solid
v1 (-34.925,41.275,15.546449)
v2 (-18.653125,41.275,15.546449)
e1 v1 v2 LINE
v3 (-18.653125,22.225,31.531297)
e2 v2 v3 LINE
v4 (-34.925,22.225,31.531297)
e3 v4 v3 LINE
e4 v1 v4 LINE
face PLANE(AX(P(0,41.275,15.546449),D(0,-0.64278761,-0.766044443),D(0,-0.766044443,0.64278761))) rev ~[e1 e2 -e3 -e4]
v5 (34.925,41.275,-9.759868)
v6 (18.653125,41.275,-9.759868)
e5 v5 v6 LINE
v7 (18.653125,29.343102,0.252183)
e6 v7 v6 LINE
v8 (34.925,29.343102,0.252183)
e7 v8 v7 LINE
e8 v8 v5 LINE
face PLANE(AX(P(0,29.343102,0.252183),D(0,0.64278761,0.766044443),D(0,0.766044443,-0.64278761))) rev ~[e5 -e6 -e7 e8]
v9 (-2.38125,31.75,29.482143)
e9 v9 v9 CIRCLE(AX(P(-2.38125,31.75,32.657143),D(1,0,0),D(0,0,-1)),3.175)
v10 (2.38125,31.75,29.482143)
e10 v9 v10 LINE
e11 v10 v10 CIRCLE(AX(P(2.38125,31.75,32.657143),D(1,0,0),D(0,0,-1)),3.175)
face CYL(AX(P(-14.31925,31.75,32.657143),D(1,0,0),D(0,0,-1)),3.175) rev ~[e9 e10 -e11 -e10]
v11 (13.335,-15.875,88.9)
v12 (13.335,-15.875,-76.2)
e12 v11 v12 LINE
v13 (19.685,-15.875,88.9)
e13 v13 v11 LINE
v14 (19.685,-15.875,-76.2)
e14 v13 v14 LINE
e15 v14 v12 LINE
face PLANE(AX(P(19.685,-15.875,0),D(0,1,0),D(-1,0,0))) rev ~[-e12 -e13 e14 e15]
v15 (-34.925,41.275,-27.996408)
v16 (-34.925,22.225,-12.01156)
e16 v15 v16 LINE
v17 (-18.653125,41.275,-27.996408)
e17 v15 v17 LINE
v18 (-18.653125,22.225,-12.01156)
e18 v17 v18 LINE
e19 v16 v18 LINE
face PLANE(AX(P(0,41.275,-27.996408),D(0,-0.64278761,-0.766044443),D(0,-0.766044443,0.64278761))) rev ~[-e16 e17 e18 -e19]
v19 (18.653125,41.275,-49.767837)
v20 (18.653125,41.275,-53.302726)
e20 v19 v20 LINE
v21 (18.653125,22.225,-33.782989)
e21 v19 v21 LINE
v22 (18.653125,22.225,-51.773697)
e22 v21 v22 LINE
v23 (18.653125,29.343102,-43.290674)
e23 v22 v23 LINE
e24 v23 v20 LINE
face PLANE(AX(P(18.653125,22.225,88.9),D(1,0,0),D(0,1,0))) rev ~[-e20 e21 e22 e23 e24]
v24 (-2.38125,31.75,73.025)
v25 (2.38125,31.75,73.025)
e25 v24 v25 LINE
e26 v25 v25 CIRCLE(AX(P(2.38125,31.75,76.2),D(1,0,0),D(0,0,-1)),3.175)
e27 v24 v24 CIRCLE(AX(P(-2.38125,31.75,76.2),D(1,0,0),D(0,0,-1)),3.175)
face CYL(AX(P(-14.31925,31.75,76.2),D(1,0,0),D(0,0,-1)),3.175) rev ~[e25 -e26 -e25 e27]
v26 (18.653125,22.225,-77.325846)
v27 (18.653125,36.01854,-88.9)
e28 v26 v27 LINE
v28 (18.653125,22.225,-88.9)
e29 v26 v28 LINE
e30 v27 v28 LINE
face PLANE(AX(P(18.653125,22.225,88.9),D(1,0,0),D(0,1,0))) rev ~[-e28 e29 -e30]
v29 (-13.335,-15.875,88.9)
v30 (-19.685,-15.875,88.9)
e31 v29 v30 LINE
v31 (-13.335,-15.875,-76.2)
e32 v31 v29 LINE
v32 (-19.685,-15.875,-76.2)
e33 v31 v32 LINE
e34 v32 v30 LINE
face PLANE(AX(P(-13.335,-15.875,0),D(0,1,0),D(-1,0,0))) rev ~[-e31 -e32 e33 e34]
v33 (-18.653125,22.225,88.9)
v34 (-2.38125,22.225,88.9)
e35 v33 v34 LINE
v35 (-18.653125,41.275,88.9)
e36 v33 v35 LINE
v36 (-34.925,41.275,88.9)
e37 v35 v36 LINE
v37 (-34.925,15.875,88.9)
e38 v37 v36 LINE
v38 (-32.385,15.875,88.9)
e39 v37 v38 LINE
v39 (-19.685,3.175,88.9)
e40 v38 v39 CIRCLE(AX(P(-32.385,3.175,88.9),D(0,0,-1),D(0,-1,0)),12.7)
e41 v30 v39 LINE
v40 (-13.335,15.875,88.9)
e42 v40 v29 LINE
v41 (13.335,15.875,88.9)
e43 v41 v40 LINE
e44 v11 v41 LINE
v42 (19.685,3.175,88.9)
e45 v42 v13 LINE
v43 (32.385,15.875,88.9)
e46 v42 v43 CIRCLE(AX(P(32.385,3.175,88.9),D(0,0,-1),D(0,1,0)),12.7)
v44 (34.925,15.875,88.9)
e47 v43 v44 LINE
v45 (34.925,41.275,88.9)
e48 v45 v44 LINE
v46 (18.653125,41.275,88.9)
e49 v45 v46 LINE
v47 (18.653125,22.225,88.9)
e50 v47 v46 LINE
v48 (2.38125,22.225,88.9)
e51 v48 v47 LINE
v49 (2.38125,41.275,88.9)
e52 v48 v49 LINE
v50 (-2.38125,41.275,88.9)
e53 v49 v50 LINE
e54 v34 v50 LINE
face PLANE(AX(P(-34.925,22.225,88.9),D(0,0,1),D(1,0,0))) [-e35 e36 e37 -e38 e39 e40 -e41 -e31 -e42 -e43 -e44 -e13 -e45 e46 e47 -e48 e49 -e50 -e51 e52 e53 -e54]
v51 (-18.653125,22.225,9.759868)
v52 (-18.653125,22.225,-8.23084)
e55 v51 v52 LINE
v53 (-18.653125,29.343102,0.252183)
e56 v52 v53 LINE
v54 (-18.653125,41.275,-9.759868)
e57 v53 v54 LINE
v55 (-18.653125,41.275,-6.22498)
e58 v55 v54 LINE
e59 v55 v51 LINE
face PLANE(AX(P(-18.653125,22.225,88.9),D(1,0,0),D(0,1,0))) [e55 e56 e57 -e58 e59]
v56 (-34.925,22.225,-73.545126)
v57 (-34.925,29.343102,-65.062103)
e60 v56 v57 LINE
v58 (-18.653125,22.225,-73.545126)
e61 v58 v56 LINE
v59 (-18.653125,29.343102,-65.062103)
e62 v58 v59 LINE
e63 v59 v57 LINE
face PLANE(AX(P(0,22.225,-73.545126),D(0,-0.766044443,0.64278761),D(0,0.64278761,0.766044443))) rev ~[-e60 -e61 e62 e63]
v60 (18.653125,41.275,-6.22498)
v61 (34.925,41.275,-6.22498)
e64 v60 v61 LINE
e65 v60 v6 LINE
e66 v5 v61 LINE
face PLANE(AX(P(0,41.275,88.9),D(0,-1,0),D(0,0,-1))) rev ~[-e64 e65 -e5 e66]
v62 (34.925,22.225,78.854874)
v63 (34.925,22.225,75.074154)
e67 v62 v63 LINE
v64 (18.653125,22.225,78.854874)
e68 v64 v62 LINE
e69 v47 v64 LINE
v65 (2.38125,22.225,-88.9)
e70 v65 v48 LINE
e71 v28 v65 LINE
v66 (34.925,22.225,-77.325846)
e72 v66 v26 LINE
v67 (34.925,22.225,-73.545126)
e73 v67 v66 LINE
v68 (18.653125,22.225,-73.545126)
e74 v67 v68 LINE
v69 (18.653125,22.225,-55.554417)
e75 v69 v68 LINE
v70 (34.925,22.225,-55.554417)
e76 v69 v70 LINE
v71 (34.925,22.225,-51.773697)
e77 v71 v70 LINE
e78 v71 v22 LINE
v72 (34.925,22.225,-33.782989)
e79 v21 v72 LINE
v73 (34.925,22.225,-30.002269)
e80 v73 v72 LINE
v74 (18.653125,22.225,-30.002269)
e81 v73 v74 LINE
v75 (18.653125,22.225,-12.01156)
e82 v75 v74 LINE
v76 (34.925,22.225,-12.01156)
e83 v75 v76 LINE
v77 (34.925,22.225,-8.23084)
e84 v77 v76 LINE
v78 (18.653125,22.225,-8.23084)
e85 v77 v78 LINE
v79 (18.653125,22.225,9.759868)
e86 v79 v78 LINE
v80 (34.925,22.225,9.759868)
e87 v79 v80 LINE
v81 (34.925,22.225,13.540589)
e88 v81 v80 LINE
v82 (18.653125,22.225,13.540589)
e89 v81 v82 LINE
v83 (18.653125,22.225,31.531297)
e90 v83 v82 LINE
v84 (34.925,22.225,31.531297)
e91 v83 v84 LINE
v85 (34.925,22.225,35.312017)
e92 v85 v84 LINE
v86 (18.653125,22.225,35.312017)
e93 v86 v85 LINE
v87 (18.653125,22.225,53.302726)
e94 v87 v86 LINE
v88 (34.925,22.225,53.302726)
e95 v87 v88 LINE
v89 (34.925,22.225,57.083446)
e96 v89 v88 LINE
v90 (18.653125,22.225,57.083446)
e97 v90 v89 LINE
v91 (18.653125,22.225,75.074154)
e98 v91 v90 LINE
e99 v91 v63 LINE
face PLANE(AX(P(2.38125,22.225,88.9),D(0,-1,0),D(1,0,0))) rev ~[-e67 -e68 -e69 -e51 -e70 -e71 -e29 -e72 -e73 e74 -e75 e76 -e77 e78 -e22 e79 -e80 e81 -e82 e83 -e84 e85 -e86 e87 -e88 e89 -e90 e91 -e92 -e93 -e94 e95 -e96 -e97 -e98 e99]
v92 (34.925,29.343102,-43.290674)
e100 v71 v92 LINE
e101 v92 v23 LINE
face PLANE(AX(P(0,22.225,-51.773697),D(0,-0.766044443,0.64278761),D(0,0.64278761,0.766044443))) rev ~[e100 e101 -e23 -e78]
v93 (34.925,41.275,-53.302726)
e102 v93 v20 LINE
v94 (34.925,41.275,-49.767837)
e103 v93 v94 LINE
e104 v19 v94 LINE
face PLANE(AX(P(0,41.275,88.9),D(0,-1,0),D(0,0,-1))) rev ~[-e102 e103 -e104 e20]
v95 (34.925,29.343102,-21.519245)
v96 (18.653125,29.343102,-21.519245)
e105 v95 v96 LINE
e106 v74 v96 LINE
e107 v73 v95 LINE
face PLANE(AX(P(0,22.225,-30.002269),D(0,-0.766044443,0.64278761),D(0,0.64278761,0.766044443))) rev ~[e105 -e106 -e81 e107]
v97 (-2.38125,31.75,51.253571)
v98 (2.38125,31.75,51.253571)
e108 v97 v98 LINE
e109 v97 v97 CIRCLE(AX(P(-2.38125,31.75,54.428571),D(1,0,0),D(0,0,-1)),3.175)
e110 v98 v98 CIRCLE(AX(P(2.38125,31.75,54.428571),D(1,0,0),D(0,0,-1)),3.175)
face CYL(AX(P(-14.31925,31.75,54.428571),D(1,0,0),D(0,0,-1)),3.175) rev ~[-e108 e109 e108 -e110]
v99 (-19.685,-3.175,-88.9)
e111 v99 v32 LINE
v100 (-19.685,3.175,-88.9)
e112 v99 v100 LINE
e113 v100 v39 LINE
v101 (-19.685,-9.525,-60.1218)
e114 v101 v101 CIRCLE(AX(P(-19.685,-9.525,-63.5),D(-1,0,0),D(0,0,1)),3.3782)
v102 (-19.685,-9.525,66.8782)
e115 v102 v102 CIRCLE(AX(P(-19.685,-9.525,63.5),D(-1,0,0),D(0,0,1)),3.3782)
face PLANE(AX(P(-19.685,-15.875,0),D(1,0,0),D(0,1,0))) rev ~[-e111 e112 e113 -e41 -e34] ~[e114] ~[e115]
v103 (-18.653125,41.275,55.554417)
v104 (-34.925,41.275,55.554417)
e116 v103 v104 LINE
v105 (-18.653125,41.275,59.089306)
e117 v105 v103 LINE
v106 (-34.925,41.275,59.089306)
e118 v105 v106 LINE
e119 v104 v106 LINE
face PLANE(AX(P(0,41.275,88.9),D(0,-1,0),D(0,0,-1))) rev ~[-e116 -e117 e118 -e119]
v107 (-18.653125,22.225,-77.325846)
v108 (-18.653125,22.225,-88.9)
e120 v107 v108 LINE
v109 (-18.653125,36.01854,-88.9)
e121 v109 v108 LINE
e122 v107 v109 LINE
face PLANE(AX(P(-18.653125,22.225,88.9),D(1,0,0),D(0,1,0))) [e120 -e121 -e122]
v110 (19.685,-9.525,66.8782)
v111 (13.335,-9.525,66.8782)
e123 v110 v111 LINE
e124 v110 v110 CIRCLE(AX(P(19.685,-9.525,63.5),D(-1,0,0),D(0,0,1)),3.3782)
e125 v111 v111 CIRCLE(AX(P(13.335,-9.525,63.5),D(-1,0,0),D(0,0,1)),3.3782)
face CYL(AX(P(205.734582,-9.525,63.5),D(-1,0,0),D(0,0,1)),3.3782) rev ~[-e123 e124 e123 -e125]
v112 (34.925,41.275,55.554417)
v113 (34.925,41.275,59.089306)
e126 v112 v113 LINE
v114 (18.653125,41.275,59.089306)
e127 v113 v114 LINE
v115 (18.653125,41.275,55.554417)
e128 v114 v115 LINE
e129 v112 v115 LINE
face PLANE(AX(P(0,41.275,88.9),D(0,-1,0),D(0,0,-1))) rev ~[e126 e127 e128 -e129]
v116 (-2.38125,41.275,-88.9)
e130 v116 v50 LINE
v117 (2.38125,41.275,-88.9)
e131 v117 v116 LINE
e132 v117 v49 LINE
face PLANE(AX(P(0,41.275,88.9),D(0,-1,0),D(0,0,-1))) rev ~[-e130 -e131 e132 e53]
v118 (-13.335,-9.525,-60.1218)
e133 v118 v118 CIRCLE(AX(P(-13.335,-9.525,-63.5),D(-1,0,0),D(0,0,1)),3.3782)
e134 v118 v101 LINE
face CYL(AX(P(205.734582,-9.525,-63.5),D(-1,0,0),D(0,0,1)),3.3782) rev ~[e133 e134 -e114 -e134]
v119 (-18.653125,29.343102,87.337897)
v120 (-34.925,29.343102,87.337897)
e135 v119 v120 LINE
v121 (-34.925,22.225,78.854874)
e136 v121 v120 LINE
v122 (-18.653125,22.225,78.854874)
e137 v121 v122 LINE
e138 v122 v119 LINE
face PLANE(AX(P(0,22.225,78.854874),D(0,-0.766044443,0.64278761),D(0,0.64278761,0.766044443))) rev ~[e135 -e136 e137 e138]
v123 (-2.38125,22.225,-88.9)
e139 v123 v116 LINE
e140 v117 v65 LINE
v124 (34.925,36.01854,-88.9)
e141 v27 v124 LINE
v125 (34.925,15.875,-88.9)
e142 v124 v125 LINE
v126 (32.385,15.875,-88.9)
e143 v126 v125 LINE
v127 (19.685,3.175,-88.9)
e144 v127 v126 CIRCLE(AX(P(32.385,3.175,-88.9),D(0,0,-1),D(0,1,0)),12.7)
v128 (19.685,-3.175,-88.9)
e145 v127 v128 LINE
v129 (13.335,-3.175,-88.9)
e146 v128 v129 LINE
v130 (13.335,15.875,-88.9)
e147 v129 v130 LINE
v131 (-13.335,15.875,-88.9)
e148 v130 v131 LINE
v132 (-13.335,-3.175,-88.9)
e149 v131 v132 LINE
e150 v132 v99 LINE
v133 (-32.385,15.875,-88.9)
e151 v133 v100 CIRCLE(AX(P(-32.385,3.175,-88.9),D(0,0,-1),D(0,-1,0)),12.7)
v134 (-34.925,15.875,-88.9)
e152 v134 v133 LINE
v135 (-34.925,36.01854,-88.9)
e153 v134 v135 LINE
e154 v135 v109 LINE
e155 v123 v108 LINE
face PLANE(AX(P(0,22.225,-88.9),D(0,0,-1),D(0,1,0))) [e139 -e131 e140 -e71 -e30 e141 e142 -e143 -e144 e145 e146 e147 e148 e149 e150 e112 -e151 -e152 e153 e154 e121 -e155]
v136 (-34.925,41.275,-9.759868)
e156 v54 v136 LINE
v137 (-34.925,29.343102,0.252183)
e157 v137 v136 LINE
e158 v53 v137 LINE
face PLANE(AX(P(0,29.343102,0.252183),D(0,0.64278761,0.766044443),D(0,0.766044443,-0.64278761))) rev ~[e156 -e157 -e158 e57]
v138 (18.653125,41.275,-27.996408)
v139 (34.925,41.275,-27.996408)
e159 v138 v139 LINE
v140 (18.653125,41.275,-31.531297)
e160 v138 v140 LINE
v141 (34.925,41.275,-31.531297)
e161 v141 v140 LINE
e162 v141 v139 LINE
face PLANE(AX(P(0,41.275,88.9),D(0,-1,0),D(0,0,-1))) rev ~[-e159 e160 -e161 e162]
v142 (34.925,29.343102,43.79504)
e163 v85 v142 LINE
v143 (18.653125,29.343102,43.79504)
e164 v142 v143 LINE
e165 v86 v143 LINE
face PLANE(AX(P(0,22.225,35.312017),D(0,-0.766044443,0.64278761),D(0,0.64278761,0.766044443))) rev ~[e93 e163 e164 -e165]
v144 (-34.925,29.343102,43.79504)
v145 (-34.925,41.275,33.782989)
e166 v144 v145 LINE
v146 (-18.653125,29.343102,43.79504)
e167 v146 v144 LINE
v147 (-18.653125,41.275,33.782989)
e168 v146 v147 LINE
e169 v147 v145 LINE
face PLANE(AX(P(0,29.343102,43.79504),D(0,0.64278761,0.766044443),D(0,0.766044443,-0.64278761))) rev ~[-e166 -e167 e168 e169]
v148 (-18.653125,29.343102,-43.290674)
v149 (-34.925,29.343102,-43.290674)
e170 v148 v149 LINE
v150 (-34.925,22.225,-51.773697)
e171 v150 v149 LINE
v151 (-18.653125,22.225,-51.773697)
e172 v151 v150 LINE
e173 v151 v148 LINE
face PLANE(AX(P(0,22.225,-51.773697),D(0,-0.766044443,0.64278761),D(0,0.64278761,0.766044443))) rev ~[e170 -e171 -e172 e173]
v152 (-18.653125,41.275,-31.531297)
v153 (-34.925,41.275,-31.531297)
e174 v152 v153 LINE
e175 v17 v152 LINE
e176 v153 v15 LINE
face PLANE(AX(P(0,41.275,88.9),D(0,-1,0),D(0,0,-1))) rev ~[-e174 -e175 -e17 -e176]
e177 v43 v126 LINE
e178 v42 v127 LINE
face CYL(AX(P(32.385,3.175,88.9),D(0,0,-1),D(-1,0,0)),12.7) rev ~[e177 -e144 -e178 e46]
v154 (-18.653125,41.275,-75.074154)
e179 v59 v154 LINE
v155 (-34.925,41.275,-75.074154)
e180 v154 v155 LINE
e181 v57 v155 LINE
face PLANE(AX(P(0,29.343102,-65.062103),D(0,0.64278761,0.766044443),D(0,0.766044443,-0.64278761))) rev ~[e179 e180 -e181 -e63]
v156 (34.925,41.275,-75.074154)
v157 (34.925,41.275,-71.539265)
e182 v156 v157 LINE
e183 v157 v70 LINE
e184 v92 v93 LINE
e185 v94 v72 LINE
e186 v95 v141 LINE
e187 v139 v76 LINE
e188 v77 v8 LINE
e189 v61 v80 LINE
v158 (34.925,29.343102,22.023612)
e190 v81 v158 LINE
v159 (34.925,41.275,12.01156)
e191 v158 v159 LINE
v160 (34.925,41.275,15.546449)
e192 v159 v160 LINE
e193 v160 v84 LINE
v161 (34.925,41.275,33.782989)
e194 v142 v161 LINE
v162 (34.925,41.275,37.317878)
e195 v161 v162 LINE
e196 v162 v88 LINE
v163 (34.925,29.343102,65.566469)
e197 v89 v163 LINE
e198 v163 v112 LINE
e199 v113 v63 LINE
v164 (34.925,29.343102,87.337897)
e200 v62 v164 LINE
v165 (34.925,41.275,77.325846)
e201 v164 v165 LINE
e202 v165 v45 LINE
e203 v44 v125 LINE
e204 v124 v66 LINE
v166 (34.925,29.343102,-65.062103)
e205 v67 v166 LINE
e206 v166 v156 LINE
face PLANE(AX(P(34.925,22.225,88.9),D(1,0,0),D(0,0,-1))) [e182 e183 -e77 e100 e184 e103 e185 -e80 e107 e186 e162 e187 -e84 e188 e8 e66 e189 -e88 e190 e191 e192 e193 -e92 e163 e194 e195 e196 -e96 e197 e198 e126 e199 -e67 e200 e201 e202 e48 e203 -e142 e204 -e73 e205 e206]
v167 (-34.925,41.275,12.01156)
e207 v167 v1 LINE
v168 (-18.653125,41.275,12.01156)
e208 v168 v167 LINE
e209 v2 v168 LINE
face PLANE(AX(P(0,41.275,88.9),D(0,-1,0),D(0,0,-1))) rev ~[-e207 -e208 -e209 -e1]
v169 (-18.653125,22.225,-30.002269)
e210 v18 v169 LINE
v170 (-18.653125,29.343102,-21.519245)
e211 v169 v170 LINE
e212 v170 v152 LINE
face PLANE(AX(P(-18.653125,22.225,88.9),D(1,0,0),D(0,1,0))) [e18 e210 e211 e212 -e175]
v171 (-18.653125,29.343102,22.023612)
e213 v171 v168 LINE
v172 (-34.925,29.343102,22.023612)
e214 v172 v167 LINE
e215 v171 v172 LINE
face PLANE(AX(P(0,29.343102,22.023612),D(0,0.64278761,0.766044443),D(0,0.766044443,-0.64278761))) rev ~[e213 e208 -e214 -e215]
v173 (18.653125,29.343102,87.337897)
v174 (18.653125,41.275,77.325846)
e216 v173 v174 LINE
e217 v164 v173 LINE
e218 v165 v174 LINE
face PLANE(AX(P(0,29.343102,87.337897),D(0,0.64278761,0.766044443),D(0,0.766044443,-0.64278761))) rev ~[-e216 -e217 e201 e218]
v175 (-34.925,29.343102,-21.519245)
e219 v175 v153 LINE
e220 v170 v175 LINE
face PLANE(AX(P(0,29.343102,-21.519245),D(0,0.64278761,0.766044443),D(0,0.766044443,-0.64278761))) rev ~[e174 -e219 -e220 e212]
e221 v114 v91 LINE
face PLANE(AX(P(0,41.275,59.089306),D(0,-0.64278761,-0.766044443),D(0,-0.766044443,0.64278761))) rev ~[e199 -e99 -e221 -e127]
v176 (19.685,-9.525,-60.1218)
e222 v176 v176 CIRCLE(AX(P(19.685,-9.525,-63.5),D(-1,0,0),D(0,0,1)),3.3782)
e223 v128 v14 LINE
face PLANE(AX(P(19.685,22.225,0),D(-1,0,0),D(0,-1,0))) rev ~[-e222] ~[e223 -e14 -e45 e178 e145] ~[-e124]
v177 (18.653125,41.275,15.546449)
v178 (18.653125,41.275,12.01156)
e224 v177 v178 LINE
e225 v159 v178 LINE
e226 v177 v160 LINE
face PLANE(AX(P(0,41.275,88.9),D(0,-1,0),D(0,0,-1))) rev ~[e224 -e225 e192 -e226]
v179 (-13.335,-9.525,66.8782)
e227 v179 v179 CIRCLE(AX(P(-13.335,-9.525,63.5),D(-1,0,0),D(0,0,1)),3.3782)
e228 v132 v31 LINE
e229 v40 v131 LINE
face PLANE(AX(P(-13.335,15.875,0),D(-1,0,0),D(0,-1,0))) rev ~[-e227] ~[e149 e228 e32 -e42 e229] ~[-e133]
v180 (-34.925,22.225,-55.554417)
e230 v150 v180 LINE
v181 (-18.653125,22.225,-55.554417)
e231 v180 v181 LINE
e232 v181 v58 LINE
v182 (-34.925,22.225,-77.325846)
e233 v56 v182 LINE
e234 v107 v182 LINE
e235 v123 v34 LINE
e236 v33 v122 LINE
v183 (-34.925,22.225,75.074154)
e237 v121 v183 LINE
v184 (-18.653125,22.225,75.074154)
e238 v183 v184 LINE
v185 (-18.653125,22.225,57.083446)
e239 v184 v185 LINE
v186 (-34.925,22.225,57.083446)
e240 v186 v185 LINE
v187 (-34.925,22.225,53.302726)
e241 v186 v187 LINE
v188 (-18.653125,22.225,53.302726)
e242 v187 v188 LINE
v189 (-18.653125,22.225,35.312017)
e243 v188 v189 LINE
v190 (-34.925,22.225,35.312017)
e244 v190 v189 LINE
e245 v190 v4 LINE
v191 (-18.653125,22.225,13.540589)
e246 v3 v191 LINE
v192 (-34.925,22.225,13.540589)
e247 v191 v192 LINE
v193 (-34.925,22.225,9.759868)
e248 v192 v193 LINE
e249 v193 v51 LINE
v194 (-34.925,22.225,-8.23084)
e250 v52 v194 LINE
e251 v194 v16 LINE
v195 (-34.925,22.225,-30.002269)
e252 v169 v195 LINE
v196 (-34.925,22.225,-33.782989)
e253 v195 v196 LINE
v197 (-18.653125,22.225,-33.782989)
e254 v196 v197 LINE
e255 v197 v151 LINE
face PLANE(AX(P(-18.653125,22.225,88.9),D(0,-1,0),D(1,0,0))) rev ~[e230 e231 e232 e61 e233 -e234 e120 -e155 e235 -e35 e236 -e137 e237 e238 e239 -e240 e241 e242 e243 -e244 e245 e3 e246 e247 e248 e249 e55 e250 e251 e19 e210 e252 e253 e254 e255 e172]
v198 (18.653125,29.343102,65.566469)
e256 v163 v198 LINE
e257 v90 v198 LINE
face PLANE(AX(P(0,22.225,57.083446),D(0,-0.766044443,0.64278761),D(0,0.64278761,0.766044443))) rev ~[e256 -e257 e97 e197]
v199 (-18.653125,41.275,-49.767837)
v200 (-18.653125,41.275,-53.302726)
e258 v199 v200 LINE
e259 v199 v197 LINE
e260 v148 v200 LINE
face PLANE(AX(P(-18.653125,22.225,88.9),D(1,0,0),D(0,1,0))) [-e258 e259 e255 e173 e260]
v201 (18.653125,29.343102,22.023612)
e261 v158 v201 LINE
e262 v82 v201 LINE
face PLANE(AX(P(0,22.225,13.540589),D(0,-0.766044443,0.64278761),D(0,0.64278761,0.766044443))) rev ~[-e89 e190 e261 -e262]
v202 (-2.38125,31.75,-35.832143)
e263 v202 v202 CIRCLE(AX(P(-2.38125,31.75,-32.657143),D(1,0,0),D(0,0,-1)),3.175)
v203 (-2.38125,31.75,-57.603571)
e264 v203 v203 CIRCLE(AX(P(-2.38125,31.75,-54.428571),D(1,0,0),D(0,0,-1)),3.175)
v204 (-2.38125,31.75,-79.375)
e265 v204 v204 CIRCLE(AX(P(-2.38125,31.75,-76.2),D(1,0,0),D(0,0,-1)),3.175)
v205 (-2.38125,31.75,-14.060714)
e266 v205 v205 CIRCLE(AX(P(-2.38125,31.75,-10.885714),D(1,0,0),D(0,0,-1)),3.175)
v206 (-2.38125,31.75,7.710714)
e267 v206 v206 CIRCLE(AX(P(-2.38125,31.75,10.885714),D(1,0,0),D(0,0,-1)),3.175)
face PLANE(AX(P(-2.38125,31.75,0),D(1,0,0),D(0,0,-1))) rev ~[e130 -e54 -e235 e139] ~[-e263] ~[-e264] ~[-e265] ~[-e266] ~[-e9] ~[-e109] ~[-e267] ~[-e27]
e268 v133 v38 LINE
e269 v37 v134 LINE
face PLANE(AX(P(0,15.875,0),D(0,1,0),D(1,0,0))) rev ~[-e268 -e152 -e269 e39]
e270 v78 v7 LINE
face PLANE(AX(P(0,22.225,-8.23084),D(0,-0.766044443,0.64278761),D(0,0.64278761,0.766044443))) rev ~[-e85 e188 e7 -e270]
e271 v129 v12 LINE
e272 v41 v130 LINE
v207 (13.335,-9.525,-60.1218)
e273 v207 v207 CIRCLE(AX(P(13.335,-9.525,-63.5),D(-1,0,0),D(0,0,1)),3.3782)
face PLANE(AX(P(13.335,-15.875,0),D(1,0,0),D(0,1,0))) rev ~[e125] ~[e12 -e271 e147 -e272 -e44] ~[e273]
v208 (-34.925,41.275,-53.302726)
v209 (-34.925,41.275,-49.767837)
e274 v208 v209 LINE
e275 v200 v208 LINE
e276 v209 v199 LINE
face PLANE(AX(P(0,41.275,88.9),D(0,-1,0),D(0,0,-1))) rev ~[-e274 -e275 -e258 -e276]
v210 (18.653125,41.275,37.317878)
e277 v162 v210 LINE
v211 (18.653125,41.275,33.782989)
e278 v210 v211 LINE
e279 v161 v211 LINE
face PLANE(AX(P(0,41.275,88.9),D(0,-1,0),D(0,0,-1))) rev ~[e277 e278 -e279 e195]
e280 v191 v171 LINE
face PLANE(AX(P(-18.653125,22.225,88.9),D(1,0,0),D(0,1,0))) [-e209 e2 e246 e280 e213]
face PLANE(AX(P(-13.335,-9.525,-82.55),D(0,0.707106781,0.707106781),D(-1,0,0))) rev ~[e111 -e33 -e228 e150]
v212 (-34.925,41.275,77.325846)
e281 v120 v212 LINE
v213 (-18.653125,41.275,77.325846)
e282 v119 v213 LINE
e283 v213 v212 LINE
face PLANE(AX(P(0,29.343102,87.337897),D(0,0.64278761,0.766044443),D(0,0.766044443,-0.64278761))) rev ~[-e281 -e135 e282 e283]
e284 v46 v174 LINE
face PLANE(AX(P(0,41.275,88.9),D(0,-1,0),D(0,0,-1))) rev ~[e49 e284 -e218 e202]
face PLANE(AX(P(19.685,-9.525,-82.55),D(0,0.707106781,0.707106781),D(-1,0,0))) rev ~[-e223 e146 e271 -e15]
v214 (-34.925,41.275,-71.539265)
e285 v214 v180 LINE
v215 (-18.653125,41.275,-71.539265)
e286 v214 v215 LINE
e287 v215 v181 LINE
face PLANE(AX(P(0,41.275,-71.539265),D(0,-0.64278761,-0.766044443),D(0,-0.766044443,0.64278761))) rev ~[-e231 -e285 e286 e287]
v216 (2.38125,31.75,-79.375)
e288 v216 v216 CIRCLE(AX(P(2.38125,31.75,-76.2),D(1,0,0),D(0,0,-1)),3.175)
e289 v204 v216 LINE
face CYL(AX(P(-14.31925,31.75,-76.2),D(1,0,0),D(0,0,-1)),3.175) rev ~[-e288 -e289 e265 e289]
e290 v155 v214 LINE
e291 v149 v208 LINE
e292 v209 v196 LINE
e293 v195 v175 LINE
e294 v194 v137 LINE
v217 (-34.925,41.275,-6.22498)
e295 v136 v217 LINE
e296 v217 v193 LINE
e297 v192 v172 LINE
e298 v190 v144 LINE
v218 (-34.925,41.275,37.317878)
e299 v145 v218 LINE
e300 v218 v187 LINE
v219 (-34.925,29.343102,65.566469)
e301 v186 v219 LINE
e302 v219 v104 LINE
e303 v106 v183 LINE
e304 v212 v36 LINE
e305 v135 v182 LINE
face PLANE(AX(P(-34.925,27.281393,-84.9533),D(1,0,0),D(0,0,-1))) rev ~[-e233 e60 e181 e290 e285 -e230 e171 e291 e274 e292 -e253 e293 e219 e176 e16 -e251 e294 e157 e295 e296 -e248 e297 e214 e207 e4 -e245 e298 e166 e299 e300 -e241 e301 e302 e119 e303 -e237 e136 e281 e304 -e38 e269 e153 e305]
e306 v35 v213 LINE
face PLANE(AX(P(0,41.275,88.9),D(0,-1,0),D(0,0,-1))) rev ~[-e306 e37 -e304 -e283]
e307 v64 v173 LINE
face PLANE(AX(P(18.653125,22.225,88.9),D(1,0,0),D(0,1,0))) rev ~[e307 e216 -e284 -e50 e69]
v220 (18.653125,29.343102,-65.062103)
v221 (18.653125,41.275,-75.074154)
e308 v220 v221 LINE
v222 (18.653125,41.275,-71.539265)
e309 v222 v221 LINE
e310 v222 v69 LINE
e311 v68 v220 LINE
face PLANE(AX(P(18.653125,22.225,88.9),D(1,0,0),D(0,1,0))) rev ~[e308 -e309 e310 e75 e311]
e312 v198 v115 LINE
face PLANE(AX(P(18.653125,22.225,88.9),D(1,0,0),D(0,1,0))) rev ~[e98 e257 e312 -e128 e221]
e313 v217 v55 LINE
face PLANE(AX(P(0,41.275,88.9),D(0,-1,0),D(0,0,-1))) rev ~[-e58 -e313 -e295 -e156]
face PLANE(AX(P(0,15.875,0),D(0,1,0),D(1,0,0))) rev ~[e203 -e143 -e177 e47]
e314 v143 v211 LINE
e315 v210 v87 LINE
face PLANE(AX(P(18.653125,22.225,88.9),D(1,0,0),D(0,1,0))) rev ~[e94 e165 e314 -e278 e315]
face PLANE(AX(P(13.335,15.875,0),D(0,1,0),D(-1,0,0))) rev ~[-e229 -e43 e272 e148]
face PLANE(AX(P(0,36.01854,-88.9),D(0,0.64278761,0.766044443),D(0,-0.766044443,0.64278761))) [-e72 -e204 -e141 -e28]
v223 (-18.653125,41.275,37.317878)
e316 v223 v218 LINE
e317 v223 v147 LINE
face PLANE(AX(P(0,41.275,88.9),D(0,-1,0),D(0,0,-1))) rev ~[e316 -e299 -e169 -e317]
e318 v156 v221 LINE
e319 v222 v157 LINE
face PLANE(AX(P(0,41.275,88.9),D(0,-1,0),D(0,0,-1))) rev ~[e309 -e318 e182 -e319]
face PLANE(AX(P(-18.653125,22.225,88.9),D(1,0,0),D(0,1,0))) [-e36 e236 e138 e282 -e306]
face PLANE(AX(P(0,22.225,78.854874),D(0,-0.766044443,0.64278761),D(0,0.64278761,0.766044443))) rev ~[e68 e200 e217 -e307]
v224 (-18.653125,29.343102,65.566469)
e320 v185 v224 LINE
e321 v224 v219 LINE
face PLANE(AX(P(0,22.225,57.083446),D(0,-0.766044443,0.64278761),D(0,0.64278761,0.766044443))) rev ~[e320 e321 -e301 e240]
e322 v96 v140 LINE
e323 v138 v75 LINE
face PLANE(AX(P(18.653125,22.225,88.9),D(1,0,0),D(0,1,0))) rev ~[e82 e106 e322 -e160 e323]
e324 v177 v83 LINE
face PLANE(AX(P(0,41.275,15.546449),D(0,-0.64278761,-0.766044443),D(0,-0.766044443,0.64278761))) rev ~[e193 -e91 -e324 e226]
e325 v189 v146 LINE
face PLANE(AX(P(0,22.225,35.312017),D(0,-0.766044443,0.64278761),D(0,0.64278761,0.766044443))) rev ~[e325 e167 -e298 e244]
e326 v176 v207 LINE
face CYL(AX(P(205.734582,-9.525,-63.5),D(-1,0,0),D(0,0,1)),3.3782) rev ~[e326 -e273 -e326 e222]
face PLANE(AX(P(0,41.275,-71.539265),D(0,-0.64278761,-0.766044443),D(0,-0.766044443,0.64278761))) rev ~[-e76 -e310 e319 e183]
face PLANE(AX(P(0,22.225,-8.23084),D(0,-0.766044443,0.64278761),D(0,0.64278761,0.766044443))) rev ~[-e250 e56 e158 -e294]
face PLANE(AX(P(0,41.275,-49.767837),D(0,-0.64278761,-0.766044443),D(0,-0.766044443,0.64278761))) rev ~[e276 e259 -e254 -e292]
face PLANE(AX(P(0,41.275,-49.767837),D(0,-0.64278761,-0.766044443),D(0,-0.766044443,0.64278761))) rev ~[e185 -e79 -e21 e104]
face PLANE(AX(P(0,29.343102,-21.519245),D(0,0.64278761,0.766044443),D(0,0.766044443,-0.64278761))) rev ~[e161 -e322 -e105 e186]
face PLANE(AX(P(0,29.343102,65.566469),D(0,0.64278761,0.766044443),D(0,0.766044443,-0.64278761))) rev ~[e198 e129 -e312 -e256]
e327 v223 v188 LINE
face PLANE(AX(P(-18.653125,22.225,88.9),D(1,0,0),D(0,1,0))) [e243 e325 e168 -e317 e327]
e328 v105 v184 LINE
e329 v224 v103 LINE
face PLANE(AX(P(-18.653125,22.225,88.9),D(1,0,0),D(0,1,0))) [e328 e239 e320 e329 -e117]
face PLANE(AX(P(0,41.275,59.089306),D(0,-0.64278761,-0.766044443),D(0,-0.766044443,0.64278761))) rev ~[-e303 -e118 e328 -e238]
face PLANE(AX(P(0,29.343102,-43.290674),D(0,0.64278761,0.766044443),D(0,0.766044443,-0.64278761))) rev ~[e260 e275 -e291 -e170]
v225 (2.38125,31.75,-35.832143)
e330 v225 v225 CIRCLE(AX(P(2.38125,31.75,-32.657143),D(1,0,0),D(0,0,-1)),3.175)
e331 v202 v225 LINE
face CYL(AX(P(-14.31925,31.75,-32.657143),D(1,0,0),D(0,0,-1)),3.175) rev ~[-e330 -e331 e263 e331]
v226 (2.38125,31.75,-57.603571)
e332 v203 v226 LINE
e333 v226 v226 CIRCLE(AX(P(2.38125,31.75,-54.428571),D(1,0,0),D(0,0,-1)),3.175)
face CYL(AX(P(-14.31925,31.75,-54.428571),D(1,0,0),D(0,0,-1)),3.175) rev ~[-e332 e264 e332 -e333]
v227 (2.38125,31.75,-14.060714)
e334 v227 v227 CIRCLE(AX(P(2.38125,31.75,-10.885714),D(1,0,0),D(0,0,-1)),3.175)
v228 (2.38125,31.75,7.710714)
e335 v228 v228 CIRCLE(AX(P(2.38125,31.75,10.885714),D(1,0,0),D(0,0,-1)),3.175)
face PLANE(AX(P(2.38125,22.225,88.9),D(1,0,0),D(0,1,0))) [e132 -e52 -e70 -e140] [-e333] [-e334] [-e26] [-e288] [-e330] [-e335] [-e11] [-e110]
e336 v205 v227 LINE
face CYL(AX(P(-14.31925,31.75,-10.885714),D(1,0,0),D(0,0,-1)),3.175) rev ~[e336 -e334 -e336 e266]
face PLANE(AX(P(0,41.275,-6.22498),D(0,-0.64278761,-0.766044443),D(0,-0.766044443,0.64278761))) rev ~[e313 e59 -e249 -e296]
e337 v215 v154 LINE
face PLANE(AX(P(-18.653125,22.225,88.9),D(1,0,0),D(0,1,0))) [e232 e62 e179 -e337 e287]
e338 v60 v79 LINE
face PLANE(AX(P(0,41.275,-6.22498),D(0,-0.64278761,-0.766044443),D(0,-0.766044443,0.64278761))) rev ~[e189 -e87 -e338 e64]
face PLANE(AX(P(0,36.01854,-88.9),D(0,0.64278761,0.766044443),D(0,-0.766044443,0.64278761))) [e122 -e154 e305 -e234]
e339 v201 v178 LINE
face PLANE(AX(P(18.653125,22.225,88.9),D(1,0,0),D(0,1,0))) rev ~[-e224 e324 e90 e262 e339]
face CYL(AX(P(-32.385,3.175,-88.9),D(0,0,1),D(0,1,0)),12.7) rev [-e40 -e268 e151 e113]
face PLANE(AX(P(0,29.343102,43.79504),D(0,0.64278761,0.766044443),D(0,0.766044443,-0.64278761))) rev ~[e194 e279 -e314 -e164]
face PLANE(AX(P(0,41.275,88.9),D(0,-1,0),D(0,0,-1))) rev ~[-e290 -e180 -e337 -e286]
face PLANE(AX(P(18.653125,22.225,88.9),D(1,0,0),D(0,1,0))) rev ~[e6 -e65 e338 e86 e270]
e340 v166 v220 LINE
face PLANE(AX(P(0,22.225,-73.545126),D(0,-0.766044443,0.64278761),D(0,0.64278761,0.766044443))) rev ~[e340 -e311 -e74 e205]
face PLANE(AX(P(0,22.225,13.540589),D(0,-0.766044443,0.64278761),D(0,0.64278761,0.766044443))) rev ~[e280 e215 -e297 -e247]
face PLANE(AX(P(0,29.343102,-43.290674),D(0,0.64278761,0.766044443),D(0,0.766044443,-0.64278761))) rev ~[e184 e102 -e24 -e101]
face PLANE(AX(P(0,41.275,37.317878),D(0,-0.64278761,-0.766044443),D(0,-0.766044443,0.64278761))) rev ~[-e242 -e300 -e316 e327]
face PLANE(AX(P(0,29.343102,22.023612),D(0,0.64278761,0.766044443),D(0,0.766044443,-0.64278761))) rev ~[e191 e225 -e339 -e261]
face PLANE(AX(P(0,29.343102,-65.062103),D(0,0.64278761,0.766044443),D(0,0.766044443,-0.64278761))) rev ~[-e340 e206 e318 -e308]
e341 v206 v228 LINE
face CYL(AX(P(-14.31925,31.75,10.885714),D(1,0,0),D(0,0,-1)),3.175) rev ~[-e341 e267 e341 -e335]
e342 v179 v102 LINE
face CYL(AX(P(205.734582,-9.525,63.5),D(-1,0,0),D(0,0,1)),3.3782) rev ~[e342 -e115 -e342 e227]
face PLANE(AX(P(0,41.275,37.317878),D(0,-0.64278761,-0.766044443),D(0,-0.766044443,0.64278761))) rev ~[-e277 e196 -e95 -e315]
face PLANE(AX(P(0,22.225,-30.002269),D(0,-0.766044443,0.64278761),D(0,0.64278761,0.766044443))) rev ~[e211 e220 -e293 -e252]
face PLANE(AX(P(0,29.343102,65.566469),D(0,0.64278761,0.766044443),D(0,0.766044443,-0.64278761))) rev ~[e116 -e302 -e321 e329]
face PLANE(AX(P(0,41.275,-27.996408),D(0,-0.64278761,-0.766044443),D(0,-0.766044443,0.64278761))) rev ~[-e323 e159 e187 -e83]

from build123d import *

# Parameters (mm, degrees)
BOSS_EXTRUDE1_DEPTH             = 88.9
F_1_4_CLEARANCE_HOLE1_D         = 6.7564
CHAMFER1_SIZE                   = 12.7
SKETCH8_W                       = 69.85
SKETCH8_H                       = 177.8
BOSS_EXTRUDE4_DEPTH             = 6.35
SKETCH4_W                       = 177.8
SKETCH4_H                       = 19.05
BOSS_EXTRUDE2_DEPTH             = 2.38125
F_1_4_0_25_DIAMETER_HOLE1_D     = 6.35
F_1_4_0_25_DIAMETER_HOLE1_DEPTH = 11.938
F_1_4_0_25_DIAMETER_HOLE1_TIP   = 1.907732465
FILLET3_R                       = 12.7
BOSS_EXTRUDE7_DEPTH             = 34.925
SKETCH31_W                      = 16.271875
SKETCH31_H                      = 19.05
CUT_EXTRUDE1_DEPTH              = 186.839234959


with BuildPart() as part:
    # Sketch1 → Boss-Extrude1 (new, symmetric)
    with BuildSketch(Plane.XY):
        Polygon((-19.685, 22.225), (19.685, 22.225), (19.685, -15.875), (13.335, -15.875), (13.335, 15.875), (-13.335, 15.875), (-13.335, -15.875), (-19.685, -15.875), align=None)
    extrude(amount=BOSS_EXTRUDE1_DEPTH, both=True)

    # 1/4 Clearance Hole1 (through all)
    with Locations(Plane(origin=(19.685, 0, 0), x_dir=(0, 0, -1), z_dir=(1, 0, 0))):
        with Locations((-63.5, -9.525), (63.5, -9.525)):
            Hole(F_1_4_CLEARANCE_HOLE1_D / 2)

    # Chamfer1
    chamfer1_edges = [part.edges().sort_by_distance(p)[0] for p in [
        (16.51, -15.875, -88.9),
        (-16.51, -15.875, -88.9),
    ]]
    chamfer(chamfer1_edges, length=CHAMFER1_SIZE)

    # Sketch8 → Boss-Extrude4 (add)
    with BuildSketch(Plane(origin=(0, 22.225, 0), x_dir=(1, 0, 0), z_dir=(0, 1, 0))):
        Rectangle(SKETCH8_W, SKETCH8_H)
    extrude(amount=-BOSS_EXTRUDE4_DEPTH)

    # Sketch4 → Boss-Extrude2 (add, symmetric)
    with BuildSketch(Plane(origin=(0, 0, 0), x_dir=(0, 0, -1), z_dir=(1, 0, 0))):
        with Locations((0, 31.75)):
            Rectangle(SKETCH4_W, SKETCH4_H)
    extrude(amount=BOSS_EXTRUDE2_DEPTH, both=True)

    # 1/4 (0.25) Diameter Hole1
    with Locations(Plane.ZY.offset(2.38125)):
        with Locations((-76.2, 31.75), (76.2, 31.75), (54.428571429, 31.75), (32.657142857, 31.75), (10.885714286, 31.75), (-10.885714286, 31.75), (-32.657142857, 31.75), (-54.428571429, 31.75)):
            Hole(F_1_4_0_25_DIAMETER_HOLE1_D / 2, depth=F_1_4_0_25_DIAMETER_HOLE1_DEPTH)
            with Locations((0, 0, -(F_1_4_0_25_DIAMETER_HOLE1_DEPTH + F_1_4_0_25_DIAMETER_HOLE1_TIP / 2))):  # 118° drill point
                Cone(0, F_1_4_0_25_DIAMETER_HOLE1_D / 2, F_1_4_0_25_DIAMETER_HOLE1_TIP, mode=Mode.SUBTRACT)

    # Fillet3
    fillet3_edges = [part.edges().sort_by_distance(p)[0] for p in [
        (19.685, 15.875, 0),
        (-19.685, 15.875, 0),
    ]]
    fillet(fillet3_edges, radius=FILLET3_R)

    # Sketch30 → Boss-Extrude7 (add, symmetric)
    with BuildSketch(Plane(origin=(0, 0, 0), x_dir=(0, 0, -1), z_dir=(1, 0, 0))):
        Polygon((-88.9, 41.275), (-88.9, 27.481460305), (-87.337897471, 29.343101606), (-77.325845929, 41.275), align=None)
        Polygon((-59.089306097, 41.275), (-75.074154071, 22.225), (-71.539265332, 22.225), (-65.566468899, 29.343101606), (-55.554417358, 41.275), align=None)
        Polygon((-37.317877526, 41.275), (-53.3027255, 22.225), (-49.76783676, 22.225), (-43.795040328, 29.343101606), (-33.782988786, 41.275), align=None)
        Polygon((-12.011560215, 41.275), (-15.546448954, 41.275), (-31.531296928, 22.225), (-27.996408189, 22.225), (-22.023611756, 29.343101606), align=None)
        Polygon((9.759868357, 41.275), (6.224979617, 41.275), (-9.759868357, 22.225), (-6.224979617, 22.225), (-0.252183185, 29.343101606), align=None)
        Polygon((31.531296928, 41.275), (27.996408189, 41.275), (12.011560215, 22.225), (15.546448954, 22.225), (21.519245386, 29.343101606), align=None)
        Polygon((53.3027255, 41.275), (49.76783676, 41.275), (33.782988786, 22.225), (37.317877526, 22.225), (43.290673958, 29.343101606), align=None)
        Polygon((75.074154071, 41.275), (71.539265332, 41.275), (55.554417358, 22.225), (59.089306097, 22.225), (65.062102529, 29.343101606), align=None)
        Polygon((-88.9, 27.481460305), (-88.9, 22.225), (-78.854874309, 22.225), (-87.337897471, 29.343101606), align=None)
        Polygon((-65.566468899, 29.343101606), (-71.539265332, 22.225), (-57.083445738, 22.225), align=None)
        Polygon((-43.795040328, 29.343101606), (-49.76783676, 22.225), (-35.312017166, 22.225), align=None)
        Polygon((-22.023611756, 29.343101606), (-27.996408189, 22.225), (-13.540588595, 22.225), align=None)
        Polygon((8.230839976, 22.225), (-0.252183185, 29.343101606), (-6.224979617, 22.225), align=None)
        Polygon((30.002268548, 22.225), (21.519245386, 29.343101606), (15.546448954, 22.225), align=None)
        Polygon((51.773697119, 22.225), (43.290673958, 29.343101606), (37.317877526, 22.225), align=None)
        Polygon((73.545125691, 22.225), (65.062102529, 29.343101606), (59.089306097, 22.225), align=None)
        Polygon((88.9, 22.225), (88.9, 36.018539695), (77.325845929, 22.225), align=None)
    extrude(amount=BOSS_EXTRUDE7_DEPTH, both=True)

    # Sketch31 → Cut-Extrude1 (cut, through all)
    with BuildSketch(Plane.XY.offset(88.9)):
        with Locations((10.5171875, 31.75)):
            Rectangle(SKETCH31_W, SKETCH31_H)
        with Locations((-10.5171875, 31.75)):
            Rectangle(SKETCH31_W, SKETCH31_H)
    extrude(amount=-CUT_EXTRUDE1_DEPTH, mode=Mode.SUBTRACT)


solid = part.part
